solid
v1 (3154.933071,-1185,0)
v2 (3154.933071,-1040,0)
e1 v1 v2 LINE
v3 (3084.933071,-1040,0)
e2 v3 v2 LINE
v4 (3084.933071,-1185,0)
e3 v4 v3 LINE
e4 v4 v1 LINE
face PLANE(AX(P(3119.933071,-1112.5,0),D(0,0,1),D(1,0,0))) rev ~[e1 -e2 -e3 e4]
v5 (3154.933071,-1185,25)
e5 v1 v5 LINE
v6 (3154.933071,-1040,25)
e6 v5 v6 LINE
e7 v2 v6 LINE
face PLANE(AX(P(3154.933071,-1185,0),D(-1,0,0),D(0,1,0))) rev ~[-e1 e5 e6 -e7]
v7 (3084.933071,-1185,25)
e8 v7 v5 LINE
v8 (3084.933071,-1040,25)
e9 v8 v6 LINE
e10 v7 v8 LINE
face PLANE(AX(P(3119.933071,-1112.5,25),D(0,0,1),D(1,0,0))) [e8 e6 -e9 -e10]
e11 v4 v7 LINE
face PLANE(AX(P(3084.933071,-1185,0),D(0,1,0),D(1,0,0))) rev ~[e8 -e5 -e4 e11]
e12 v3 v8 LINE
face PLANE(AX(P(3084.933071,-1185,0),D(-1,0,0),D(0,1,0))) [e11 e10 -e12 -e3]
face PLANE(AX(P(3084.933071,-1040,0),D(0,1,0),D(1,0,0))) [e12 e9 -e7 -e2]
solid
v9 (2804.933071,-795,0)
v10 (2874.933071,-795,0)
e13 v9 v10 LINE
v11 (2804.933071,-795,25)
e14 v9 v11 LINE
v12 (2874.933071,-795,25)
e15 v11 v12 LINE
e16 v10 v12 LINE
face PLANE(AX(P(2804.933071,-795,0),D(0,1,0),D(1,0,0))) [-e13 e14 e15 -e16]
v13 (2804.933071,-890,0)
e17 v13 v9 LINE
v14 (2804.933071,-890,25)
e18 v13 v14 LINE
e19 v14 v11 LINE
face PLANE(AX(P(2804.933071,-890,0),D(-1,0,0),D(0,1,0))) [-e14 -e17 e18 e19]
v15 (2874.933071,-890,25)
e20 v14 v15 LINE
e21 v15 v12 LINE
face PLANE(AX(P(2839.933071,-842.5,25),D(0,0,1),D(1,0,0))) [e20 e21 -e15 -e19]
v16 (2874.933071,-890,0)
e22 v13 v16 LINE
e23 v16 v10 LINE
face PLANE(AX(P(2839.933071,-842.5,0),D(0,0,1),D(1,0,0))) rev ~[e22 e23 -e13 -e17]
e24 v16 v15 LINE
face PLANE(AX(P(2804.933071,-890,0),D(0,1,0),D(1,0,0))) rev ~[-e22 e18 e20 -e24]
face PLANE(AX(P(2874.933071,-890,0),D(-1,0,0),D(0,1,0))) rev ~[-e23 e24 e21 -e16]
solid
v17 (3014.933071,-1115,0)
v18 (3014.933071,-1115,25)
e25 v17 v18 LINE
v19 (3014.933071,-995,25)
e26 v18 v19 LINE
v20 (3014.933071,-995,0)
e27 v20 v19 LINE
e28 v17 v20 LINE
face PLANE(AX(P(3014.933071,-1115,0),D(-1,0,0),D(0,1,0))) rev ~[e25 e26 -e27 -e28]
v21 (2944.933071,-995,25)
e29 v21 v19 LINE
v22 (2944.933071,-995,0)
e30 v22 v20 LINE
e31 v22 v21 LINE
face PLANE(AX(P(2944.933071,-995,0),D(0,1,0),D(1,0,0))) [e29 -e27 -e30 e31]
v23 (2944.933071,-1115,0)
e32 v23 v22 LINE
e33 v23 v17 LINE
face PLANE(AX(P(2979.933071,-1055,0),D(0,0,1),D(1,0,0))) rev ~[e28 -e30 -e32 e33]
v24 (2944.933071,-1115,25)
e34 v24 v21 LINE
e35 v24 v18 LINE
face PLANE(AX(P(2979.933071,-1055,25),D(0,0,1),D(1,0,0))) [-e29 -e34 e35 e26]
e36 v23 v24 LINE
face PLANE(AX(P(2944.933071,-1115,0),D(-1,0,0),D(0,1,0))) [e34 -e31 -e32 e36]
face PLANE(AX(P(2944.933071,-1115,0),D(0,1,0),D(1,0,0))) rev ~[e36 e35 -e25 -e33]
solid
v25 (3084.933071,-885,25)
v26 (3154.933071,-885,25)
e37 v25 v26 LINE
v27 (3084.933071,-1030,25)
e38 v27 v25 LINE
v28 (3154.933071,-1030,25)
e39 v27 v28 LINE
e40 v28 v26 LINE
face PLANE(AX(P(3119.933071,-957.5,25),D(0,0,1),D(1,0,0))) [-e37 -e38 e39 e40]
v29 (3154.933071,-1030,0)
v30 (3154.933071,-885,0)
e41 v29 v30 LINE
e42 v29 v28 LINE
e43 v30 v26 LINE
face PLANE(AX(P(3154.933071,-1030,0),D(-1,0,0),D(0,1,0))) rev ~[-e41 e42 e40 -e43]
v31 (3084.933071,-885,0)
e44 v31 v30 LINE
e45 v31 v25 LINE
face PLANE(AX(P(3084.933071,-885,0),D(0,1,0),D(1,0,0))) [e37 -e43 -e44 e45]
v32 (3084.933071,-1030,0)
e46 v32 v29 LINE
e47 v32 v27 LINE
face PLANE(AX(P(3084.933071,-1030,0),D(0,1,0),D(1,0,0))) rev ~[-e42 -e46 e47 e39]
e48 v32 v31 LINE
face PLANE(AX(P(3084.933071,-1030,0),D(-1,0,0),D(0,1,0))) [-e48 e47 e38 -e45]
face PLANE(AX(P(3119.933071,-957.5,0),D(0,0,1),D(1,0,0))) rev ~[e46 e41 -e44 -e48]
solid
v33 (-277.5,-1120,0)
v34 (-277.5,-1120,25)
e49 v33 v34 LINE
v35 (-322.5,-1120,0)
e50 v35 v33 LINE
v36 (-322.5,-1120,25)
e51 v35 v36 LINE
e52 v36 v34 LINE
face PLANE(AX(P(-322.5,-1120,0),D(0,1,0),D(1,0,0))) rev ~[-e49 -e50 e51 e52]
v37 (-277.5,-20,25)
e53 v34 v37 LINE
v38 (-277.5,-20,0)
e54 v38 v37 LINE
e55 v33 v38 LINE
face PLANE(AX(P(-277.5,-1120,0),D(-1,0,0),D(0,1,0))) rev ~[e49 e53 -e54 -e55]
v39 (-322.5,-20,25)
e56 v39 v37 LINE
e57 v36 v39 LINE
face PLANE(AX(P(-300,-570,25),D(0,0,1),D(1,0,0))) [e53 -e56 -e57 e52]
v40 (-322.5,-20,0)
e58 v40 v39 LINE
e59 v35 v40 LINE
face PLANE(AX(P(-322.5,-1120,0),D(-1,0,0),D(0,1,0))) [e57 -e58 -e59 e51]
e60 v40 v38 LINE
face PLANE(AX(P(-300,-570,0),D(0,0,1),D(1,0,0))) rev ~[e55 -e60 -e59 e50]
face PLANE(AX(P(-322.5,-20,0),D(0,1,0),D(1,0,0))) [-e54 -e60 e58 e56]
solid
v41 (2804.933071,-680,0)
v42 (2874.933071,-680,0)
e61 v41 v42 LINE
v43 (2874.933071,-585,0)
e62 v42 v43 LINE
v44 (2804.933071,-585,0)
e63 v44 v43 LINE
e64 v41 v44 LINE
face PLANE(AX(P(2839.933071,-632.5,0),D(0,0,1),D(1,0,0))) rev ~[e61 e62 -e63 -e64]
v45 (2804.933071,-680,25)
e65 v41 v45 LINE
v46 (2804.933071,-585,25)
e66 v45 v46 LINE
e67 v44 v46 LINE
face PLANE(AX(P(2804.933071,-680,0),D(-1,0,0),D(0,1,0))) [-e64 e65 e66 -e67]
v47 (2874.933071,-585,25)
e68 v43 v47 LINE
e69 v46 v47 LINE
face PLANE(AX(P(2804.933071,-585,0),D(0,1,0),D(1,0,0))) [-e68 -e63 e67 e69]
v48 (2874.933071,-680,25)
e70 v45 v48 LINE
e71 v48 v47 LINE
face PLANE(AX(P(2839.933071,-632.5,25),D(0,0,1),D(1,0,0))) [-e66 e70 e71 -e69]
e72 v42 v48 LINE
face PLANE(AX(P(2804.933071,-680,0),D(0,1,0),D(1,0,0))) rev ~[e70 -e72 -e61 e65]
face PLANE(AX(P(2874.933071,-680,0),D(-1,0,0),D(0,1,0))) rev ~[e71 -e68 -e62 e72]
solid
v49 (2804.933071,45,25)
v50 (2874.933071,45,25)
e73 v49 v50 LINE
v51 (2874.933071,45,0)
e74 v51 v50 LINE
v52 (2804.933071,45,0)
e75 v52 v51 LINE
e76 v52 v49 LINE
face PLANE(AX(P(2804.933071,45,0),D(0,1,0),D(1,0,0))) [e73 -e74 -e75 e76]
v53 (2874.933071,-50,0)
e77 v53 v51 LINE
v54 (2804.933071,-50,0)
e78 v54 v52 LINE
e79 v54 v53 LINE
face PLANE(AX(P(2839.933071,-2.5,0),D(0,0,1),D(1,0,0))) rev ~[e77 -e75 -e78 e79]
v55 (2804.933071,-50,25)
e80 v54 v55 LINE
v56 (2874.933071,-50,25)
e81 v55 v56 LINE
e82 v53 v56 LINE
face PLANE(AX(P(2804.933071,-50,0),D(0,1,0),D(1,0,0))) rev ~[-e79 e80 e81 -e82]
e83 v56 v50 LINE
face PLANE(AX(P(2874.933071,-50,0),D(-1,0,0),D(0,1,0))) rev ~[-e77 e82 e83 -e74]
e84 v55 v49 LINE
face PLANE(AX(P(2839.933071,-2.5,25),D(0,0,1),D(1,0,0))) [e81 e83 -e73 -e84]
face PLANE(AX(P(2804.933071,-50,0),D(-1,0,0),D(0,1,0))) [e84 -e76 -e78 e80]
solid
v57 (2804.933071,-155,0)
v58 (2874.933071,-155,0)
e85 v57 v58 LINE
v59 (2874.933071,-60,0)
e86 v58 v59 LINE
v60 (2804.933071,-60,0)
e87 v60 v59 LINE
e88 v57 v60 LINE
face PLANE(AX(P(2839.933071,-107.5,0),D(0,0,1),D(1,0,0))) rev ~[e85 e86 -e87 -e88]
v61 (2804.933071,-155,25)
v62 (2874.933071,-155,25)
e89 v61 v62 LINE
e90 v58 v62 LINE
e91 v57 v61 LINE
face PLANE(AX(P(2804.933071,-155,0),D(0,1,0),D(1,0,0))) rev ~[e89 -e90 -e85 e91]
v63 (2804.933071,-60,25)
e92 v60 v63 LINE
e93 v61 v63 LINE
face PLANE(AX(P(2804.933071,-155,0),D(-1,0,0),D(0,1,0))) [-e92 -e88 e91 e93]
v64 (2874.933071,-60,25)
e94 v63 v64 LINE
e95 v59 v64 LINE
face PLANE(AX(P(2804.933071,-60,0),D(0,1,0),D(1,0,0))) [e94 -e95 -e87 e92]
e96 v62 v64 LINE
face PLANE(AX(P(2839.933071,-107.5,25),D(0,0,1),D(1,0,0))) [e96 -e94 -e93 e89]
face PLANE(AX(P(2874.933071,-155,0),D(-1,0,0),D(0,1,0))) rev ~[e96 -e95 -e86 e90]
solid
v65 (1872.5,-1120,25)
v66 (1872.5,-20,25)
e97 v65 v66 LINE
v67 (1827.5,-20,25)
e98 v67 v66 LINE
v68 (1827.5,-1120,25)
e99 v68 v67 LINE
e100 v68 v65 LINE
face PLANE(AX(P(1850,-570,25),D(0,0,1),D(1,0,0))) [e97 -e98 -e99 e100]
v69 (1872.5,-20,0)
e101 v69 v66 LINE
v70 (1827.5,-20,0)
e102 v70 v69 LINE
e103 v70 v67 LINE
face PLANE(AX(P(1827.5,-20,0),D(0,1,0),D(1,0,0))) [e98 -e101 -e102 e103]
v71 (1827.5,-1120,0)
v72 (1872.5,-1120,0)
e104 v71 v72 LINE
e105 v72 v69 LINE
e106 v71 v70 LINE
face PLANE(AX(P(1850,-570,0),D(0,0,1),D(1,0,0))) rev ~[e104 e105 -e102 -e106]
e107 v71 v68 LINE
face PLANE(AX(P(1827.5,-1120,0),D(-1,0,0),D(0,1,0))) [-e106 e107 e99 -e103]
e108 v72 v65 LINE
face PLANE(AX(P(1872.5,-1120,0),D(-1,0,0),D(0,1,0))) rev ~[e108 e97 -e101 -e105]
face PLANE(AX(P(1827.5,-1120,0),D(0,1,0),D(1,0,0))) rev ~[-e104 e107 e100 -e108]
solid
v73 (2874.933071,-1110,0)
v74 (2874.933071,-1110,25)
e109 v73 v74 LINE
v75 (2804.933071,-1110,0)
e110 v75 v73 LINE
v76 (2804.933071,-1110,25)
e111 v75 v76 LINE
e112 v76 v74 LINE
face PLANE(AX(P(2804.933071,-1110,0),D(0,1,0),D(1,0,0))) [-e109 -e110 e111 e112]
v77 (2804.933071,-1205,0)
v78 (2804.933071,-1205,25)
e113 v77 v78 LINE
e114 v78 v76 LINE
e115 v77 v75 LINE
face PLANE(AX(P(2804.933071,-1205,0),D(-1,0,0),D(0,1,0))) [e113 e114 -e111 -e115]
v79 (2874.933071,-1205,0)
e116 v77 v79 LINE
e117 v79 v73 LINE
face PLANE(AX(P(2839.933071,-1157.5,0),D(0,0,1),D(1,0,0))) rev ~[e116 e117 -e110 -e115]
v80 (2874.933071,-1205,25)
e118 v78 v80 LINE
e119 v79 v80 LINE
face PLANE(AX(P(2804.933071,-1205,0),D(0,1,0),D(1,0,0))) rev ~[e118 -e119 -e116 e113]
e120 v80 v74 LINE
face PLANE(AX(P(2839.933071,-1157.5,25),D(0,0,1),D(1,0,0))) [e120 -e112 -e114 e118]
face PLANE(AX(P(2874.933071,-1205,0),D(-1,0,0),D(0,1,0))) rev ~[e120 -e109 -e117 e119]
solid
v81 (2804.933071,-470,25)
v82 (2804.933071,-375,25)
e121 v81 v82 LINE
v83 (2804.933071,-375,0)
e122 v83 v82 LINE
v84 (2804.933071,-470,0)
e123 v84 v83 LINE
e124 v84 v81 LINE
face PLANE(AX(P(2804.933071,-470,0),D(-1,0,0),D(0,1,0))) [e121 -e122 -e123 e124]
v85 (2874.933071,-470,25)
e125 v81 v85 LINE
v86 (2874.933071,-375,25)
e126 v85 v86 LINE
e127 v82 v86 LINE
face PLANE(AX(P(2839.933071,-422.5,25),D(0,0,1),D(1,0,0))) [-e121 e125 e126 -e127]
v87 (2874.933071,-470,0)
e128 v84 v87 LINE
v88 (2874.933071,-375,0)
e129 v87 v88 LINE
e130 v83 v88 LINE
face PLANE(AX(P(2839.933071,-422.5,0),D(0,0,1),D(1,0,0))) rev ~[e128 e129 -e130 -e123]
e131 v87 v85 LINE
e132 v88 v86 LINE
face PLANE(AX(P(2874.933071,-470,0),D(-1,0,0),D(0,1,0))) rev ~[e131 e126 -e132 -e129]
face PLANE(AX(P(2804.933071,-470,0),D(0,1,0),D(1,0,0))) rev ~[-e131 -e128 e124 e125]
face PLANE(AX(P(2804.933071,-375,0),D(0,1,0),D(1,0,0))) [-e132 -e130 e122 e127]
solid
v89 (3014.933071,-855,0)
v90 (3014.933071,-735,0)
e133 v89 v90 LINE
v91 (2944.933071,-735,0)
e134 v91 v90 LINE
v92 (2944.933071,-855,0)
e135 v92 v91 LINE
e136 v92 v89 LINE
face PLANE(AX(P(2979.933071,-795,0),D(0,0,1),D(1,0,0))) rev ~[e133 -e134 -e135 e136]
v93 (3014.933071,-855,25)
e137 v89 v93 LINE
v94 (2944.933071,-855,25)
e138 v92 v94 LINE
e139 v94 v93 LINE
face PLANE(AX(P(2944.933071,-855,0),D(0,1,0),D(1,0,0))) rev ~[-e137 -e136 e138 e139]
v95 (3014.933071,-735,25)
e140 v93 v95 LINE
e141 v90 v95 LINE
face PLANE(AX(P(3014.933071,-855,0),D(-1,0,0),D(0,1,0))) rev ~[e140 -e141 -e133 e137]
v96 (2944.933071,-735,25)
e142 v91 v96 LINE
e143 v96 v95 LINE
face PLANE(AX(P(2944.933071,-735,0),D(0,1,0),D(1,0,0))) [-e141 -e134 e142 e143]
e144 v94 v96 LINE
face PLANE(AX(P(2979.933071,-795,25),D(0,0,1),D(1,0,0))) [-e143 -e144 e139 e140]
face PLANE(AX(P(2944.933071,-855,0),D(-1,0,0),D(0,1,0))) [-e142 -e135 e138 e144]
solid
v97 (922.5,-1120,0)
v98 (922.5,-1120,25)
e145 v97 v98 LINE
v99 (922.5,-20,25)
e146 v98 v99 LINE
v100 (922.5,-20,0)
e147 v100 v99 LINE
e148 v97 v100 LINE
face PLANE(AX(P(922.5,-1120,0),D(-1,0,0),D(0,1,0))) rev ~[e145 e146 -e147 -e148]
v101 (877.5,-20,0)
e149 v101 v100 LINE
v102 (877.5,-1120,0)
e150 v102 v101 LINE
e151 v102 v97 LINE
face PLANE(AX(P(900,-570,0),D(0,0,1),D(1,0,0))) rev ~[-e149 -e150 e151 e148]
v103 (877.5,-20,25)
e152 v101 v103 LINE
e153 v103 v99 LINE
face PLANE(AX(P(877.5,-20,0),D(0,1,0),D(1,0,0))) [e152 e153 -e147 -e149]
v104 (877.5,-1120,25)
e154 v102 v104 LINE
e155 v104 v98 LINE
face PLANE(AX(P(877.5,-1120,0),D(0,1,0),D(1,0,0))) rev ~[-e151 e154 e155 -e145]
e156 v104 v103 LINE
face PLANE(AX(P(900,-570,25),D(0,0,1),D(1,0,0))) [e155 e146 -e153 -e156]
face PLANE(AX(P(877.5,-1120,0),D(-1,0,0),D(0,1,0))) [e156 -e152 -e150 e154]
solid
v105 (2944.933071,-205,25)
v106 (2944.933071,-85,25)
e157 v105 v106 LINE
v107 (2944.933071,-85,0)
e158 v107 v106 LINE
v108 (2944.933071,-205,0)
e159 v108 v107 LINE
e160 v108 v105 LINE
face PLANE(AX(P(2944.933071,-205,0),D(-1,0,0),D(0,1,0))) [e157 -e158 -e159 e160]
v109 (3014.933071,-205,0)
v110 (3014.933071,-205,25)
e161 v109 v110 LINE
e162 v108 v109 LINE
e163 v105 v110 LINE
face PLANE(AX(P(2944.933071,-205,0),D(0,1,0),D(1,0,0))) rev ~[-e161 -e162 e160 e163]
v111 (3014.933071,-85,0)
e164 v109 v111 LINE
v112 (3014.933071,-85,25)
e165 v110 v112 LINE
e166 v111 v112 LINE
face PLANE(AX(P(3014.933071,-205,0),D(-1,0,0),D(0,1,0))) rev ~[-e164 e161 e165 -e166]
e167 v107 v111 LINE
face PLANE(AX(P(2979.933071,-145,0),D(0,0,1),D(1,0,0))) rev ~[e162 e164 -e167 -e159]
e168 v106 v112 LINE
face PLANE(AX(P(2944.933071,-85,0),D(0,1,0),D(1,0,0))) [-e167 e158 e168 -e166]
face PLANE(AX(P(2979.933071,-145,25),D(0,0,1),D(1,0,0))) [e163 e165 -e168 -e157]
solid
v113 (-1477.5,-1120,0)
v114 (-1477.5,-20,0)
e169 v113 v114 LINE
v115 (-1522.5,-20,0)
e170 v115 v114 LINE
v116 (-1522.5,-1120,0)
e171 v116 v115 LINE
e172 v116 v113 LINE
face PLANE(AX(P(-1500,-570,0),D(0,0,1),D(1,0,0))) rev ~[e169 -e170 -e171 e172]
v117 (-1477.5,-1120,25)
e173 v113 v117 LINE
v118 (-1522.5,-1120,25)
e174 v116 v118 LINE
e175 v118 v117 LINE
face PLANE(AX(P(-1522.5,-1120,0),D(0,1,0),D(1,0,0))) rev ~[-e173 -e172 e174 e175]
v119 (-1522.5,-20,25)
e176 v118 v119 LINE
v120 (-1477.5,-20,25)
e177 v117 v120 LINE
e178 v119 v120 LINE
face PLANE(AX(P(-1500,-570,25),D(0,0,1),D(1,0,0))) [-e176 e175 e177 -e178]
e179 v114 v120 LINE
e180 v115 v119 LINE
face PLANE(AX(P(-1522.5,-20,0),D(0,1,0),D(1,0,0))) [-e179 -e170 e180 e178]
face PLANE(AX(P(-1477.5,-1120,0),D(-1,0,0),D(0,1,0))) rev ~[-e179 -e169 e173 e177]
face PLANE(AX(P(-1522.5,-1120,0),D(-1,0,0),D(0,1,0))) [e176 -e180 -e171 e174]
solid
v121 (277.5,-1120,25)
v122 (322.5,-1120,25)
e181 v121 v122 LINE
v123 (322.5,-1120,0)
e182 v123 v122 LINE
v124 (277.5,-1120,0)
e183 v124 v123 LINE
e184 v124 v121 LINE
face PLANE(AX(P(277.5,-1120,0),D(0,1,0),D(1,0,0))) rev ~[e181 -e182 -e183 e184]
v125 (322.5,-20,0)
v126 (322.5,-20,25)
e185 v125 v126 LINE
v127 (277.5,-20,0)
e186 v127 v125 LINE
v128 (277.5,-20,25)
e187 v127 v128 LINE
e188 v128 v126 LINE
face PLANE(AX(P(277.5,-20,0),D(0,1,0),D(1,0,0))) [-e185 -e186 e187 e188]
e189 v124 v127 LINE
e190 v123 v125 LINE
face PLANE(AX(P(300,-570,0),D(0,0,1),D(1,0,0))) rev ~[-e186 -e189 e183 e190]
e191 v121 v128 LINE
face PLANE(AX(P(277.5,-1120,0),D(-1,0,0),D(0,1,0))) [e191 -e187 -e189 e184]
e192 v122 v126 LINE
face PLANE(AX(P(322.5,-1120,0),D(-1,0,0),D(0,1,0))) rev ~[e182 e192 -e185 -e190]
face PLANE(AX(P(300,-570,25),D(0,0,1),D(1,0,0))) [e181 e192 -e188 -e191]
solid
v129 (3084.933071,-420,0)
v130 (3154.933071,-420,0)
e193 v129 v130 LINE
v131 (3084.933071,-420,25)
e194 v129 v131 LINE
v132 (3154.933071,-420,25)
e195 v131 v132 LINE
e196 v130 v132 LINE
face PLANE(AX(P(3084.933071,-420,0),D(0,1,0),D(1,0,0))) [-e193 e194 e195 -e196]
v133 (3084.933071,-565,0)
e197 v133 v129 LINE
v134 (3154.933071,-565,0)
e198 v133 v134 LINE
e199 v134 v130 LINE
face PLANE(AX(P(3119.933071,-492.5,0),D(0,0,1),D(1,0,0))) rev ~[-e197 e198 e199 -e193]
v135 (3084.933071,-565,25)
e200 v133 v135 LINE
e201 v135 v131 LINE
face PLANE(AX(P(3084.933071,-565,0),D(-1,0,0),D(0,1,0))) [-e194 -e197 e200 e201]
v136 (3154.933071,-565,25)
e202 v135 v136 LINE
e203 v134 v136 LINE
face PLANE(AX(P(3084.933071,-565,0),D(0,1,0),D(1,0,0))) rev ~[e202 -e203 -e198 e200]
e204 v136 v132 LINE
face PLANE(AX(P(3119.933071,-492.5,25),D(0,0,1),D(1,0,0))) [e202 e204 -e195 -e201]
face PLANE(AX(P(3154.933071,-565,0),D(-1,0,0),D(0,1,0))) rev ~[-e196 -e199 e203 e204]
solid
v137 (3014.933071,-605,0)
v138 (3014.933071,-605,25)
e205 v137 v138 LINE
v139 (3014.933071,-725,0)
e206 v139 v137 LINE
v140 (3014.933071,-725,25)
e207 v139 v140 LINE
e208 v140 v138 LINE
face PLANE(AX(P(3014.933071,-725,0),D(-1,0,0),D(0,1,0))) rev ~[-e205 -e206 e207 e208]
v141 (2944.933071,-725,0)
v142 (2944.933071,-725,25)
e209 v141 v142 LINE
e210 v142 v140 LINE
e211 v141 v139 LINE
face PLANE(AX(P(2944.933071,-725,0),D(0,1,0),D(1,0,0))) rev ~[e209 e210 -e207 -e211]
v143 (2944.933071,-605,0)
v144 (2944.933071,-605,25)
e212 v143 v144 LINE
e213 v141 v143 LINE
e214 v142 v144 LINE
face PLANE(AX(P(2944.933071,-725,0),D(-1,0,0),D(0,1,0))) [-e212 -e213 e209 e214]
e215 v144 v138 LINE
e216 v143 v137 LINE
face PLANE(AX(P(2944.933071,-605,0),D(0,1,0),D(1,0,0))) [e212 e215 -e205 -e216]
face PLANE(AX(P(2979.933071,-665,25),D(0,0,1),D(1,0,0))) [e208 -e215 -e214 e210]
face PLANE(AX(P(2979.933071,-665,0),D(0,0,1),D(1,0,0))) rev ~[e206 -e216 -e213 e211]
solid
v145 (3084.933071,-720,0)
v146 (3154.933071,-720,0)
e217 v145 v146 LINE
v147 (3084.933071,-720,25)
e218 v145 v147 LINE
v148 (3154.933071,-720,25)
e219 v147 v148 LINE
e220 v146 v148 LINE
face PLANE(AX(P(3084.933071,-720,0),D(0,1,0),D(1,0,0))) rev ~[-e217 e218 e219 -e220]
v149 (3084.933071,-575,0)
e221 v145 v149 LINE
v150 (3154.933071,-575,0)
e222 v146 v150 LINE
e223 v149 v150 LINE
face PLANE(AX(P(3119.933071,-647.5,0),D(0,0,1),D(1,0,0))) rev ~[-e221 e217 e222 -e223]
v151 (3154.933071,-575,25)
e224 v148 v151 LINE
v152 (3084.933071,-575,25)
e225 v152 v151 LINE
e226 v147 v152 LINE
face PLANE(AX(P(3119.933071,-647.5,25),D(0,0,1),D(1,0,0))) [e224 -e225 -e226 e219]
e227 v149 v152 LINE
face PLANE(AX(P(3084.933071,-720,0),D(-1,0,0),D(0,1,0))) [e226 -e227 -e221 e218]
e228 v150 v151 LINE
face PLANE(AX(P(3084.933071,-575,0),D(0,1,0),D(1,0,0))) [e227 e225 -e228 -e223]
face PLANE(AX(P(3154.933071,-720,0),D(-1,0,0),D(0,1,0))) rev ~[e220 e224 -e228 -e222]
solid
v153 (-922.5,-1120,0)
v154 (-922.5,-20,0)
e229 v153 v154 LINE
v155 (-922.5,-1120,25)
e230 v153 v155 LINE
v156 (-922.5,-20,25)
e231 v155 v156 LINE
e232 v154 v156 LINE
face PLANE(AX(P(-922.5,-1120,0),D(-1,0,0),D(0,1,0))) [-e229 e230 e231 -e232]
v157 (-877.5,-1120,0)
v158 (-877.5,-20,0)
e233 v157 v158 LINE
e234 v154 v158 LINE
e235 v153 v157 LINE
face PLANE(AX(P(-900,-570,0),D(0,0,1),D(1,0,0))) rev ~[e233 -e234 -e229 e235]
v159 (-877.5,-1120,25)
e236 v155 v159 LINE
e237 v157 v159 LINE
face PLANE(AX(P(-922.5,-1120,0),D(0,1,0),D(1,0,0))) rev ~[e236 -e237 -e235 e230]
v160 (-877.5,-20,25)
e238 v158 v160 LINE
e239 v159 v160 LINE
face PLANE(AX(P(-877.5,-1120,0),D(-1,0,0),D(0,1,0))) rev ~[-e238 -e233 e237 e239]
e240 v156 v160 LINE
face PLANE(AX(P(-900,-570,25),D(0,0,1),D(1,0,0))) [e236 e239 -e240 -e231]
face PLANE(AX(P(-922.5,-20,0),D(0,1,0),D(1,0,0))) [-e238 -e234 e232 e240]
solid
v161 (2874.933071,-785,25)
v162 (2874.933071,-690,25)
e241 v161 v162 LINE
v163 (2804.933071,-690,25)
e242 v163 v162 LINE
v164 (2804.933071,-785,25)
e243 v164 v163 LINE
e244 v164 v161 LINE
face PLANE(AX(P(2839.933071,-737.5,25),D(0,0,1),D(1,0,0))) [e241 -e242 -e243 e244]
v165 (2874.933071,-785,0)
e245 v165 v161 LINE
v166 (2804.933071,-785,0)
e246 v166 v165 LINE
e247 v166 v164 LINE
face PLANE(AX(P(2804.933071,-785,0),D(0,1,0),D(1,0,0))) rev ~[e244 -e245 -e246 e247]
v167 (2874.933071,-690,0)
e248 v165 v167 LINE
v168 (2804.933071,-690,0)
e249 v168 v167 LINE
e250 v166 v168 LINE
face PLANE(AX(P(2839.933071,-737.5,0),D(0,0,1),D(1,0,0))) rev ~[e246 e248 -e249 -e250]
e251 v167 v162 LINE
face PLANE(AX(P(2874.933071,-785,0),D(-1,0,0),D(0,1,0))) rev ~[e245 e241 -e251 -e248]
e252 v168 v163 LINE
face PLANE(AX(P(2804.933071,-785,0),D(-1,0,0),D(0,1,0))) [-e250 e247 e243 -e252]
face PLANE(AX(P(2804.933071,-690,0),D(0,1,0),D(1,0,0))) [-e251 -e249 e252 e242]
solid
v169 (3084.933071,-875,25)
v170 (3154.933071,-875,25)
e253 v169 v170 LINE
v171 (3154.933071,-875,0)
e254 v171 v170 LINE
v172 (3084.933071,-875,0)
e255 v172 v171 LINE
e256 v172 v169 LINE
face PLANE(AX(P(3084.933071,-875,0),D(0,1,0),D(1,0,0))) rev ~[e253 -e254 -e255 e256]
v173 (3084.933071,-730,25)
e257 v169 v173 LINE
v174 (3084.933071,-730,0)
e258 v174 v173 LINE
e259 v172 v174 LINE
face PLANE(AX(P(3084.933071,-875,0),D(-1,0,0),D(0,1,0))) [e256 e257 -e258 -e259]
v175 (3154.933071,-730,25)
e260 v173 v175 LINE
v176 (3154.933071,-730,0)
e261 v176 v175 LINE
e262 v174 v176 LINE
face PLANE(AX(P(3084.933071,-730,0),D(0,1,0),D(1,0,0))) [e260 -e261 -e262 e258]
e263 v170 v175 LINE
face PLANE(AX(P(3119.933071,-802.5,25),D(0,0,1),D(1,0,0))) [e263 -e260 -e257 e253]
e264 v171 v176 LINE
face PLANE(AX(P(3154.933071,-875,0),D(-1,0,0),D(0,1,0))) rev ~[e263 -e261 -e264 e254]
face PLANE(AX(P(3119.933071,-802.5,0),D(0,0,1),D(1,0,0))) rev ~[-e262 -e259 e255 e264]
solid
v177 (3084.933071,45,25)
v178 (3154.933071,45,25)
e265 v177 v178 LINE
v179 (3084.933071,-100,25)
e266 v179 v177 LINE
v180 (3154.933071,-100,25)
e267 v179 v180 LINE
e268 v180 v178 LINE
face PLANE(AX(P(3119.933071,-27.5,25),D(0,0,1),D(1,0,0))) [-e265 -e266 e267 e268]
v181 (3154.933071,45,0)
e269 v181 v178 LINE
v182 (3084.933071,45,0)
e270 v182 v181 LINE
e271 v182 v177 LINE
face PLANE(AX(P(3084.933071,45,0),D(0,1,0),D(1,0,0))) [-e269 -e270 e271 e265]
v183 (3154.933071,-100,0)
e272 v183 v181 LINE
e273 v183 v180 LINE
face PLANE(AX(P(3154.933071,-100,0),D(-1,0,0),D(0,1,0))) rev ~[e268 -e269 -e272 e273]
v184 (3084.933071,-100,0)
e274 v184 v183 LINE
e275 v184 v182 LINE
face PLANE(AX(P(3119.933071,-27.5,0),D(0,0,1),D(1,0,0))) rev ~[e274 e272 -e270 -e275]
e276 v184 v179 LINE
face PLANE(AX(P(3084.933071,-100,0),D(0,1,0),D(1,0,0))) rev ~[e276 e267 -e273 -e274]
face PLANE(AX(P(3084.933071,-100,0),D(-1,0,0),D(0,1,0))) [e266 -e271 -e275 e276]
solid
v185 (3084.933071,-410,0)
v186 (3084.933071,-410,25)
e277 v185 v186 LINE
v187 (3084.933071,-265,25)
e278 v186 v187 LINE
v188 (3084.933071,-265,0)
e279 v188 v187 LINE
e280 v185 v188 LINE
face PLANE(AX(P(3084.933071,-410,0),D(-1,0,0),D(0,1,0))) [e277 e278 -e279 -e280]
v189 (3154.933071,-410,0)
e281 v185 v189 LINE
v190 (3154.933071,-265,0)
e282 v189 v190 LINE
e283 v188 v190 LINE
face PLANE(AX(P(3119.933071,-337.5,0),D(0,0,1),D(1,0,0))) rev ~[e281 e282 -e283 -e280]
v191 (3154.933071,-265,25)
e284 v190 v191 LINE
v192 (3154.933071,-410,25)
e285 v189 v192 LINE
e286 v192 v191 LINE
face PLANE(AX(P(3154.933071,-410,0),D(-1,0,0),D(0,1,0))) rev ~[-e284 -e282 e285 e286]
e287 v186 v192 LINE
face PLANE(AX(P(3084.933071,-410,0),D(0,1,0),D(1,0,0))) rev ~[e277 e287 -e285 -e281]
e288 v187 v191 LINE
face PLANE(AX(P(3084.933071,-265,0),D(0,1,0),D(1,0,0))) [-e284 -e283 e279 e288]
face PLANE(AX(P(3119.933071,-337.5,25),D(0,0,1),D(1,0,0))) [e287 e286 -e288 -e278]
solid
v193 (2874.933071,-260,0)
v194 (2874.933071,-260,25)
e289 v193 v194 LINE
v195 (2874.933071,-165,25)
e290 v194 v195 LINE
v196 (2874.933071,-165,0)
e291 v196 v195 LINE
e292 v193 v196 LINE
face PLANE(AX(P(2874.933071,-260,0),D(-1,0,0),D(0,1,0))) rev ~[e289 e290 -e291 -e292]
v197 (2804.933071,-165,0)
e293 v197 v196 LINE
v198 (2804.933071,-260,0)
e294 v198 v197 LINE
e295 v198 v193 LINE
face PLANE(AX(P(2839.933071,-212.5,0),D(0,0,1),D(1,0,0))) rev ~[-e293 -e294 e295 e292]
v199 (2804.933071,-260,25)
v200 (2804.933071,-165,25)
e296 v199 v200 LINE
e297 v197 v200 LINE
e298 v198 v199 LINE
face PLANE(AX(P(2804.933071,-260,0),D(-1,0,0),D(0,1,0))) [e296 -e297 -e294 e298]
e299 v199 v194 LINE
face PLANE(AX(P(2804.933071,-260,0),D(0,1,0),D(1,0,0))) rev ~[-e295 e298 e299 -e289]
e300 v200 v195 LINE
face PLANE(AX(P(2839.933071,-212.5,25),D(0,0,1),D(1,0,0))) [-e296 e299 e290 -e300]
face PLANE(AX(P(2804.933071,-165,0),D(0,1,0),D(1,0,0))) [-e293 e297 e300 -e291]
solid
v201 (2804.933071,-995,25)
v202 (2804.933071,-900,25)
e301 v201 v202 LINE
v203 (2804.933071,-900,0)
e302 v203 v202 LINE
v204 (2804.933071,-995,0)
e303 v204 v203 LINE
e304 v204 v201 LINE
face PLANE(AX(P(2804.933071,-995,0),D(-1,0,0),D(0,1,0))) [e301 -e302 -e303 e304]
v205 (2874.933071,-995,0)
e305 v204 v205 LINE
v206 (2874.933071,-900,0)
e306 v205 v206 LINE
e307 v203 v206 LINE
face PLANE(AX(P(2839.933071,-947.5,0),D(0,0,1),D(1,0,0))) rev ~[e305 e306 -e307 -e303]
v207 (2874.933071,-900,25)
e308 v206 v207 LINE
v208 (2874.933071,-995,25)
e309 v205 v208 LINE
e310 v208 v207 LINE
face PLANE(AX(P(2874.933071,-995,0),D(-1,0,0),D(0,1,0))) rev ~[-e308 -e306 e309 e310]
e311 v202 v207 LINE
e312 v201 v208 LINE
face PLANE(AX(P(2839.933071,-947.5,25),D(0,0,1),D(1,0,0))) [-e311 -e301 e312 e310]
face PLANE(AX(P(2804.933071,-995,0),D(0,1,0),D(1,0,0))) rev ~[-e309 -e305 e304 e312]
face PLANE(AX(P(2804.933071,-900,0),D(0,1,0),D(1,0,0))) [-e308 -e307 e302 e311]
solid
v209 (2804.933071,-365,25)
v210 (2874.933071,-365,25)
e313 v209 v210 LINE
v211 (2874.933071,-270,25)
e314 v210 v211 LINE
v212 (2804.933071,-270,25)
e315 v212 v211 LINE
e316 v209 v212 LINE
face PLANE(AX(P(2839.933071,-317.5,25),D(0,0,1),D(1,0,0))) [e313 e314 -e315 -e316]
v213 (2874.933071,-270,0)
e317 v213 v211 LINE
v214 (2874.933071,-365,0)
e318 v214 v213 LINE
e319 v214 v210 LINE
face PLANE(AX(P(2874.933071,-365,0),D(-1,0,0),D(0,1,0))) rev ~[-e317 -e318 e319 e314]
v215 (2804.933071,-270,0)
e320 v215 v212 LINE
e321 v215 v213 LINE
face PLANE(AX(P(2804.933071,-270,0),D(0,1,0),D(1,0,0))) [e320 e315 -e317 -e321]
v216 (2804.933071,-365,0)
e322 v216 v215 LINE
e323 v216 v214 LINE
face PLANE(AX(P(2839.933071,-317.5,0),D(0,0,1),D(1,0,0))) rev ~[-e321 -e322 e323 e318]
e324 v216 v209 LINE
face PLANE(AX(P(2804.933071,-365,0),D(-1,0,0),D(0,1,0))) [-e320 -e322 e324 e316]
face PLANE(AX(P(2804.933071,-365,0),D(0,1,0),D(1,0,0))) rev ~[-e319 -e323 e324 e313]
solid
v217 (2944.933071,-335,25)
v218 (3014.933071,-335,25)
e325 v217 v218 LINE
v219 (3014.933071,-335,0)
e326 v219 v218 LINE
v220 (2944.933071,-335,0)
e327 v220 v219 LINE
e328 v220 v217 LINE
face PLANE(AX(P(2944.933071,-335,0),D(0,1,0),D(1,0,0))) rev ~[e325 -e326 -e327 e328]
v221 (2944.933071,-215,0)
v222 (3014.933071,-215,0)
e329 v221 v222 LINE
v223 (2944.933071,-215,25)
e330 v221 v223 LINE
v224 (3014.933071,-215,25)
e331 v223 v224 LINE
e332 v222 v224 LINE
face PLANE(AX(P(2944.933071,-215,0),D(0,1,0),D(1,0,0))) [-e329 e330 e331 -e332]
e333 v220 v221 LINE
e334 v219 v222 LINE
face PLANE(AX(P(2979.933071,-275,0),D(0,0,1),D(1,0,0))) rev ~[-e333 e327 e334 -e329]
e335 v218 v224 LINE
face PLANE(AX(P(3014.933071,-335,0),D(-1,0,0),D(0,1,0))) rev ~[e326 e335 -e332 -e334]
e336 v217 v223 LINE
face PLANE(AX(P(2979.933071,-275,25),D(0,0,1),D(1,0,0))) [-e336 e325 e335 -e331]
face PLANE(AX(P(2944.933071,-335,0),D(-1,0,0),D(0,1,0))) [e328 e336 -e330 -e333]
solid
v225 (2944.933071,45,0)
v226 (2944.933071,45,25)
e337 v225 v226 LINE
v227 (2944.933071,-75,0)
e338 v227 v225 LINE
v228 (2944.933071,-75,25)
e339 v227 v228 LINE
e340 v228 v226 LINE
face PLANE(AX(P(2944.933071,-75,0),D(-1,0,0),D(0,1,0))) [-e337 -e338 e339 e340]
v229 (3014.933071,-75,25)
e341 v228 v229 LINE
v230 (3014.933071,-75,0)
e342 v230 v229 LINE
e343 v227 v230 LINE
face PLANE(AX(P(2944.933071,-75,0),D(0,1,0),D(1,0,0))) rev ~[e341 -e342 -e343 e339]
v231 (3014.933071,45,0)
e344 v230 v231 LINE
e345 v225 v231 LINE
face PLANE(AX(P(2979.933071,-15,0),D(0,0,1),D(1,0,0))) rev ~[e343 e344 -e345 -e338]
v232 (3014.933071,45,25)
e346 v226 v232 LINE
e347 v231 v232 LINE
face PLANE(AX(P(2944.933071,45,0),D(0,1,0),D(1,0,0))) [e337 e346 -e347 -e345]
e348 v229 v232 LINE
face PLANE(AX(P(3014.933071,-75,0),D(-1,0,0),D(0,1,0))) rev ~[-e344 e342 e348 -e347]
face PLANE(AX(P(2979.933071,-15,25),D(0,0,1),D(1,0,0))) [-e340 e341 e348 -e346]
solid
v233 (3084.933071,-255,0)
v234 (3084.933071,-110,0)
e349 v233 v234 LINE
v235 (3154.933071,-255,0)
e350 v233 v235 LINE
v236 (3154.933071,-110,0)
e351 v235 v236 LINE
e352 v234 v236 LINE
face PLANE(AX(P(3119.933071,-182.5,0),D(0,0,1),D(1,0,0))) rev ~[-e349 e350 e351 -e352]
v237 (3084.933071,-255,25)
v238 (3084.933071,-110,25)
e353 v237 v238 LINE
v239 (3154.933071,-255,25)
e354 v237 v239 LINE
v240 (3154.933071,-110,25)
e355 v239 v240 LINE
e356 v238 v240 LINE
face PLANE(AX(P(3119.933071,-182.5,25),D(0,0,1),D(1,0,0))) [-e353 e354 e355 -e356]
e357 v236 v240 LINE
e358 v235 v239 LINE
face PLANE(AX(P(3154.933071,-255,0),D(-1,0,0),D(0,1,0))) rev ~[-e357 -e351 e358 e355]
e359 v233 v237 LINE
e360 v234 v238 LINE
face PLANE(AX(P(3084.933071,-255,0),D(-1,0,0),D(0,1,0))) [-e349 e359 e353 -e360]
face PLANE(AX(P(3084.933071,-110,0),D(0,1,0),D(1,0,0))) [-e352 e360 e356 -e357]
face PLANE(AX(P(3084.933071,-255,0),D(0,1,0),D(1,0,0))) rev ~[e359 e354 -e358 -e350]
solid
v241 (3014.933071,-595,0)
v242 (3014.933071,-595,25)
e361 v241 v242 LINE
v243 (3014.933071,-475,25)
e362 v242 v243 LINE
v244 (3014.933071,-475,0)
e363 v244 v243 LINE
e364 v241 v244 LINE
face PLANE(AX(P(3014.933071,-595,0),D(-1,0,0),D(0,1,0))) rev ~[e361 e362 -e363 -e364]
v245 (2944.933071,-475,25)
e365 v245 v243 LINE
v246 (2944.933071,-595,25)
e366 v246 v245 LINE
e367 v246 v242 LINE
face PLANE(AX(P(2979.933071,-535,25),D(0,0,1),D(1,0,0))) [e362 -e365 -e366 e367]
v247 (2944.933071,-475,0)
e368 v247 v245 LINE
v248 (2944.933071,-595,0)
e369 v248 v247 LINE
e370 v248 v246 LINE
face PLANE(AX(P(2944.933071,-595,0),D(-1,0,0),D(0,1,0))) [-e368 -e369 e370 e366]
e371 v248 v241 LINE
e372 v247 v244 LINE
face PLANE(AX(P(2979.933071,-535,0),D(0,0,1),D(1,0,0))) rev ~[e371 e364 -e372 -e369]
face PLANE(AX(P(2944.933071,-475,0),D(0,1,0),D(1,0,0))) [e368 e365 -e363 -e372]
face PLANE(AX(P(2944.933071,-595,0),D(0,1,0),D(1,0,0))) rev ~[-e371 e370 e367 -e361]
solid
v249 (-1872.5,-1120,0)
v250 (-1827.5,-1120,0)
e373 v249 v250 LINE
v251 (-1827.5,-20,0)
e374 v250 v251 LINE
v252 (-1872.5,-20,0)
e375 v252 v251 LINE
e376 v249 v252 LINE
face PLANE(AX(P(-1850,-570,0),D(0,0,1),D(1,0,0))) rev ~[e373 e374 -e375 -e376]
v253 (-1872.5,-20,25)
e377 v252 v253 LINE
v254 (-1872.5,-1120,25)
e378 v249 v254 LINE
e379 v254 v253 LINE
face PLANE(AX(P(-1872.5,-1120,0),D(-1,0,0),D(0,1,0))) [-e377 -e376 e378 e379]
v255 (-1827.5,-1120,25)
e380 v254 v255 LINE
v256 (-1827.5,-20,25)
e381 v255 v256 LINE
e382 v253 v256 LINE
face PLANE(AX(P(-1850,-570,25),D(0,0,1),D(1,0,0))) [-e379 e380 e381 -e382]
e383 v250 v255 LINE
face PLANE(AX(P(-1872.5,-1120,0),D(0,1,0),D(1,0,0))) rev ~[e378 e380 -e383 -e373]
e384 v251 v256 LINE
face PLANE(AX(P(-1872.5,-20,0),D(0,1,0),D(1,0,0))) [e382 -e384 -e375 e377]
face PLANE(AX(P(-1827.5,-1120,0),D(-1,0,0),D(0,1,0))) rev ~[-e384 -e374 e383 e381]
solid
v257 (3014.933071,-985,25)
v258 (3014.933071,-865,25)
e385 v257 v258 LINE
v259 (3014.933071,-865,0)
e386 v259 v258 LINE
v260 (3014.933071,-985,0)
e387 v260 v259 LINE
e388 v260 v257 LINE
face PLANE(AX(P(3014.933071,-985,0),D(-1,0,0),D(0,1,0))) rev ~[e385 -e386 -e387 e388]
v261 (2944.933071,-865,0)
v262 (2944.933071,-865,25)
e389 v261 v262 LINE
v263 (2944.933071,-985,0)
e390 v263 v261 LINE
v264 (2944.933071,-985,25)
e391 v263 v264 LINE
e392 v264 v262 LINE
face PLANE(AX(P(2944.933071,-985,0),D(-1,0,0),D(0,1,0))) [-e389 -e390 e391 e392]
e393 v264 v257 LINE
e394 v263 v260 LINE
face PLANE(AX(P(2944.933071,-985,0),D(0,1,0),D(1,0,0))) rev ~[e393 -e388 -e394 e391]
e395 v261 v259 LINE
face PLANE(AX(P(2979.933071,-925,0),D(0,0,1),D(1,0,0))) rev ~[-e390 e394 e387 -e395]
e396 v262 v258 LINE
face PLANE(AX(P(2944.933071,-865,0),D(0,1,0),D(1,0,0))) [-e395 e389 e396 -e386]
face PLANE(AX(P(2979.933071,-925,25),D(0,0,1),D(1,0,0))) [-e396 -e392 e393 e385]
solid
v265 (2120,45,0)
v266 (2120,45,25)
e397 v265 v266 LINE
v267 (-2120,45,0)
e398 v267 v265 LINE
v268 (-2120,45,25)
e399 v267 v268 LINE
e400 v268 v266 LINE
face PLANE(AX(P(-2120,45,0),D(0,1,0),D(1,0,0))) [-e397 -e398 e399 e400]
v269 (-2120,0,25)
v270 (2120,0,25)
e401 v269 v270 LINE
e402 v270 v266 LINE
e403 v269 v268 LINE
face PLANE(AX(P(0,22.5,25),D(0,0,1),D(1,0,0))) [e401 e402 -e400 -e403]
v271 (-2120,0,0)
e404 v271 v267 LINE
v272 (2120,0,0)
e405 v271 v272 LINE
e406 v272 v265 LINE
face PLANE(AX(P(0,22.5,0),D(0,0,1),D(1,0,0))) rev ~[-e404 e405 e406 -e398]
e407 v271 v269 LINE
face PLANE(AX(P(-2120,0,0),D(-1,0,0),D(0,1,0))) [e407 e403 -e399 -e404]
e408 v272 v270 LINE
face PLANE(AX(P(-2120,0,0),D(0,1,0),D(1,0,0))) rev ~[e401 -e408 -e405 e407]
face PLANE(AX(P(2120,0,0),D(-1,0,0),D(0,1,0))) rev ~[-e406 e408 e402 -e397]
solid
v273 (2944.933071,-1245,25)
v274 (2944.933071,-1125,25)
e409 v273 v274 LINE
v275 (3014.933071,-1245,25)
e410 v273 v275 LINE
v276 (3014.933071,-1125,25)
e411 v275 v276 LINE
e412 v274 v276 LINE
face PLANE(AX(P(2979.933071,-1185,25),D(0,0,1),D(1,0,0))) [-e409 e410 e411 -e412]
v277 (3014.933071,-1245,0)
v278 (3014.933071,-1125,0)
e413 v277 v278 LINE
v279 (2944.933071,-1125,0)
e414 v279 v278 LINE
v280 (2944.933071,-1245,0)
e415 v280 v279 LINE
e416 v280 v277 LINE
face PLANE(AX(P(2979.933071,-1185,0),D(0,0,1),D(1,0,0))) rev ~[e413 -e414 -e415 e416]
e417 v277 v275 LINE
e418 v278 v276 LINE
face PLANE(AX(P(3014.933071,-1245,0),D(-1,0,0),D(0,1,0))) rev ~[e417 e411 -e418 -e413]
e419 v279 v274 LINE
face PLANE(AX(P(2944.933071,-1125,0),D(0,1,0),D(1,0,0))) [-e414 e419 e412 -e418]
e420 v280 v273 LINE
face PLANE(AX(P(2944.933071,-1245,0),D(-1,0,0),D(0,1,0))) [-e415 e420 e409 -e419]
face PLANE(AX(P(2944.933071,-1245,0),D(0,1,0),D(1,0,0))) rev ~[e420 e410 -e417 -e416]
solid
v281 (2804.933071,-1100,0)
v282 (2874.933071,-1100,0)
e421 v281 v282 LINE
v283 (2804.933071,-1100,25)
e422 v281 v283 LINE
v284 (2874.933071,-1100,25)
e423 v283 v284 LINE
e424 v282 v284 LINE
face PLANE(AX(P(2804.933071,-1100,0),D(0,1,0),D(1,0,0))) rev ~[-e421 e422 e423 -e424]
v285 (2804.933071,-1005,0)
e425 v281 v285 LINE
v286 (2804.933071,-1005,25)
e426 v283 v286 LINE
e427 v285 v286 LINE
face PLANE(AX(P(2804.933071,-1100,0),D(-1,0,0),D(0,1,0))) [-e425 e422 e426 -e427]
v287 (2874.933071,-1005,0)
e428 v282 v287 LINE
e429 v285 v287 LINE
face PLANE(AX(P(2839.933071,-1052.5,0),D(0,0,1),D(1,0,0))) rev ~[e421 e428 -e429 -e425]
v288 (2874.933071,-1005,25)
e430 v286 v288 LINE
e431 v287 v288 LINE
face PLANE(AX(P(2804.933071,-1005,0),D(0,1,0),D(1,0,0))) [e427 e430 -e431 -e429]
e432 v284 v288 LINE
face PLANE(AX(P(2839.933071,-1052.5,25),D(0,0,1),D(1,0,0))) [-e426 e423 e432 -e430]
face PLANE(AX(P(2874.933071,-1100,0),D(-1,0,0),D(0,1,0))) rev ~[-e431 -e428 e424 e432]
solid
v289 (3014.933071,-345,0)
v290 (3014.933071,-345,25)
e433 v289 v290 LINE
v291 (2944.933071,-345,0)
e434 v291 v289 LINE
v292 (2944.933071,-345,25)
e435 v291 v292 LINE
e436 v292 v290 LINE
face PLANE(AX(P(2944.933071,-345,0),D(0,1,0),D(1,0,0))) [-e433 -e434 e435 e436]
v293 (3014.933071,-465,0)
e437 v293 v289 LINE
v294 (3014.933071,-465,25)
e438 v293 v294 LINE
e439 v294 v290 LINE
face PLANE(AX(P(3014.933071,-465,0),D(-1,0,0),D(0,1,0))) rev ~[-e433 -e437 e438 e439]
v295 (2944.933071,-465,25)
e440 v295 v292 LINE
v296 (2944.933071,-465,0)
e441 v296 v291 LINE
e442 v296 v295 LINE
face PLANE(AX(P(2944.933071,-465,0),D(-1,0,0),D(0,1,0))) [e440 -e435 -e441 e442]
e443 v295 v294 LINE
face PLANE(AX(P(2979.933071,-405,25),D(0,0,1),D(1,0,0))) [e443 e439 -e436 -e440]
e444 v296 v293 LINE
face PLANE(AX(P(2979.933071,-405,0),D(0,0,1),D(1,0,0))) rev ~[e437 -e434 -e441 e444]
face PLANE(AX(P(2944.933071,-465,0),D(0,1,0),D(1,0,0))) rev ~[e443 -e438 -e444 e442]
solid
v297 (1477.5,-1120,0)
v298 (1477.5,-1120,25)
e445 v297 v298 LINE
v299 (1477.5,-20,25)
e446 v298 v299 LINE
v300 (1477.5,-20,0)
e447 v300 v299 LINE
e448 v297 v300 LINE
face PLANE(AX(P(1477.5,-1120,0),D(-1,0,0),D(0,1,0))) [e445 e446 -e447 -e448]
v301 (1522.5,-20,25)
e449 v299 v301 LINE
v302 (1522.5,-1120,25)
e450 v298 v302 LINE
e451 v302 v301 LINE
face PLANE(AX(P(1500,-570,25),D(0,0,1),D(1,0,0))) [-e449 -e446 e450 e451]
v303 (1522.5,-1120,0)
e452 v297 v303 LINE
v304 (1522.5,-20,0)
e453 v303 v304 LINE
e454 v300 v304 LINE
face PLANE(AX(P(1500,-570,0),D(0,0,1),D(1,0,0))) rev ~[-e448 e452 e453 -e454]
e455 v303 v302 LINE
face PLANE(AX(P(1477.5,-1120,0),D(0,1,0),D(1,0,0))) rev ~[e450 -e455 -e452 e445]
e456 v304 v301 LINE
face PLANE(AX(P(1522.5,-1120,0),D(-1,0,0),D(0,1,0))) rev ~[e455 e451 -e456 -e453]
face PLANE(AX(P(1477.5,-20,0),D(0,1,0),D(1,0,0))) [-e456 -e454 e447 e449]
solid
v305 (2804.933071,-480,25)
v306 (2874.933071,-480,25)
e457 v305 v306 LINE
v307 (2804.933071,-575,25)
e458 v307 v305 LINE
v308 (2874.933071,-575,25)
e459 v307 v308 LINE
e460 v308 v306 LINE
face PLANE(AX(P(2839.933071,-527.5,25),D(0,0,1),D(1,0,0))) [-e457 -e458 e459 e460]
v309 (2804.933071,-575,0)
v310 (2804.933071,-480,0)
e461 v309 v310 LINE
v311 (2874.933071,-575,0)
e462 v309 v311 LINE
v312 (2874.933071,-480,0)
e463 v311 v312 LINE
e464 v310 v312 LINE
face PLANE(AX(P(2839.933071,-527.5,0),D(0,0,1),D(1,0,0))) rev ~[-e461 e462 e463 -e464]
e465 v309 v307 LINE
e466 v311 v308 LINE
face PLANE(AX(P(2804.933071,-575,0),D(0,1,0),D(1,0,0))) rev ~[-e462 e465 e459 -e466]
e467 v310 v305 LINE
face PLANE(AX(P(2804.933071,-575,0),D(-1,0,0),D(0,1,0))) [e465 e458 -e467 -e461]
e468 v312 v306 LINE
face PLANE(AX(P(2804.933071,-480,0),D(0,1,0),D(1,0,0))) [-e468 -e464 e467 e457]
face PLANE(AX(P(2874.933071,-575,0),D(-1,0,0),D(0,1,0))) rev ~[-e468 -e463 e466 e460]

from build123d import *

# Parameters (mm, degrees)
F0_W     = 4240
F0_H     = 45
F0_W_2   = 45
F0_H_2   = 1100
F0_W_3   = 70
F0_H_3   = 95
F0_H_4   = 120
F0_H_5   = 145
F1_DEPTH = 25


with BuildPart() as f1:
    # F0 (on Top) → F1 (new body)
    with BuildSketch(Plane.XY):
        with Locations((0, 22.5)):
            Rectangle(F0_W, F0_H)
        with Locations((-1500, -570)):
            Rectangle(F0_W_2, F0_H_2)
        with Locations((2839.933071, -2.5)):
            Rectangle(F0_W_3, F0_H_3)
        with Locations((2839.933071, -107.5)):
            Rectangle(F0_W_3, F0_H_3)
        with Locations((2839.933071, -212.5)):
            Rectangle(F0_W_3, F0_H_3)
        with Locations((2839.933071, -317.5)):
            Rectangle(F0_W_3, F0_H_3)
        with Locations((2839.933071, -422.5)):
            Rectangle(F0_W_3, F0_H_3)
        with Locations((2839.933071, -527.5)):
            Rectangle(F0_W_3, F0_H_3)
        with Locations((2839.933071, -632.5)):
            Rectangle(F0_W_3, F0_H_3)
        with Locations((2839.933071, -737.5)):
            Rectangle(F0_W_3, F0_H_3)
        with Locations((2839.933071, -842.5)):
            Rectangle(F0_W_3, F0_H_3)
        with Locations((2839.933071, -947.5)):
            Rectangle(F0_W_3, F0_H_3)
        with Locations((2839.933071, -1052.5)):
            Rectangle(F0_W_3, F0_H_3)
        with Locations((2839.933071, -1157.5)):
            Rectangle(F0_W_3, F0_H_3)
        with Locations((-900, -570)):
            Rectangle(F0_W_2, F0_H_2)
        with Locations((-300, -570)):
            Rectangle(F0_W_2, F0_H_2)
        with Locations((300, -570)):
            Rectangle(F0_W_2, F0_H_2)
        with Locations((900, -570)):
            Rectangle(F0_W_2, F0_H_2)
        with Locations((1500, -570)):
            Rectangle(F0_W_2, F0_H_2)
        with Locations((2979.933071, -15)):
            Rectangle(F0_W_3, F0_H_4)
        with Locations((3119.933071, -27.5)):
            Rectangle(F0_W_3, F0_H_5)
        with Locations((2979.933071, -145)):
            Rectangle(F0_W_3, F0_H_4)
        with Locations((2979.933071, -275)):
            Rectangle(F0_W_3, F0_H_4)
        with Locations((2979.933071, -405)):
            Rectangle(F0_W_3, F0_H_4)
        with Locations((2979.933071, -535)):
            Rectangle(F0_W_3, F0_H_4)
        with Locations((2979.933071, -665)):
            Rectangle(F0_W_3, F0_H_4)
        with Locations((2979.933071, -795)):
            Rectangle(F0_W_3, F0_H_4)
        with Locations((2979.933071, -925)):
            Rectangle(F0_W_3, F0_H_4)
        with Locations((2979.933071, -1055)):
            Rectangle(F0_W_3, F0_H_4)
        with Locations((2979.933071, -1185)):
            Rectangle(F0_W_3, F0_H_4)
        with Locations((3119.933071, -182.5)):
            Rectangle(F0_W_3, F0_H_5)
        with Locations((3119.933071, -337.5)):
            Rectangle(F0_W_3, F0_H_5)
        with Locations((3119.933071, -492.5)):
            Rectangle(F0_W_3, F0_H_5)
        with Locations((3119.933071, -647.5)):
            Rectangle(F0_W_3, F0_H_5)
        with Locations((3119.933071, -802.5)):
            Rectangle(F0_W_3, F0_H_5)
        with Locations((3119.933071, -957.5)):
            Rectangle(F0_W_3, F0_H_5)
        with Locations((3119.933071, -1112.5)):
            Rectangle(F0_W_3, F0_H_5)
        with Locations((1850, -570)):
            Rectangle(F0_W_2, F0_H_2)
        with Locations((-1850, -570)):
            Rectangle(F0_W_2, F0_H_2)
    extrude(amount=F1_DEPTH)


solid = f1.part
